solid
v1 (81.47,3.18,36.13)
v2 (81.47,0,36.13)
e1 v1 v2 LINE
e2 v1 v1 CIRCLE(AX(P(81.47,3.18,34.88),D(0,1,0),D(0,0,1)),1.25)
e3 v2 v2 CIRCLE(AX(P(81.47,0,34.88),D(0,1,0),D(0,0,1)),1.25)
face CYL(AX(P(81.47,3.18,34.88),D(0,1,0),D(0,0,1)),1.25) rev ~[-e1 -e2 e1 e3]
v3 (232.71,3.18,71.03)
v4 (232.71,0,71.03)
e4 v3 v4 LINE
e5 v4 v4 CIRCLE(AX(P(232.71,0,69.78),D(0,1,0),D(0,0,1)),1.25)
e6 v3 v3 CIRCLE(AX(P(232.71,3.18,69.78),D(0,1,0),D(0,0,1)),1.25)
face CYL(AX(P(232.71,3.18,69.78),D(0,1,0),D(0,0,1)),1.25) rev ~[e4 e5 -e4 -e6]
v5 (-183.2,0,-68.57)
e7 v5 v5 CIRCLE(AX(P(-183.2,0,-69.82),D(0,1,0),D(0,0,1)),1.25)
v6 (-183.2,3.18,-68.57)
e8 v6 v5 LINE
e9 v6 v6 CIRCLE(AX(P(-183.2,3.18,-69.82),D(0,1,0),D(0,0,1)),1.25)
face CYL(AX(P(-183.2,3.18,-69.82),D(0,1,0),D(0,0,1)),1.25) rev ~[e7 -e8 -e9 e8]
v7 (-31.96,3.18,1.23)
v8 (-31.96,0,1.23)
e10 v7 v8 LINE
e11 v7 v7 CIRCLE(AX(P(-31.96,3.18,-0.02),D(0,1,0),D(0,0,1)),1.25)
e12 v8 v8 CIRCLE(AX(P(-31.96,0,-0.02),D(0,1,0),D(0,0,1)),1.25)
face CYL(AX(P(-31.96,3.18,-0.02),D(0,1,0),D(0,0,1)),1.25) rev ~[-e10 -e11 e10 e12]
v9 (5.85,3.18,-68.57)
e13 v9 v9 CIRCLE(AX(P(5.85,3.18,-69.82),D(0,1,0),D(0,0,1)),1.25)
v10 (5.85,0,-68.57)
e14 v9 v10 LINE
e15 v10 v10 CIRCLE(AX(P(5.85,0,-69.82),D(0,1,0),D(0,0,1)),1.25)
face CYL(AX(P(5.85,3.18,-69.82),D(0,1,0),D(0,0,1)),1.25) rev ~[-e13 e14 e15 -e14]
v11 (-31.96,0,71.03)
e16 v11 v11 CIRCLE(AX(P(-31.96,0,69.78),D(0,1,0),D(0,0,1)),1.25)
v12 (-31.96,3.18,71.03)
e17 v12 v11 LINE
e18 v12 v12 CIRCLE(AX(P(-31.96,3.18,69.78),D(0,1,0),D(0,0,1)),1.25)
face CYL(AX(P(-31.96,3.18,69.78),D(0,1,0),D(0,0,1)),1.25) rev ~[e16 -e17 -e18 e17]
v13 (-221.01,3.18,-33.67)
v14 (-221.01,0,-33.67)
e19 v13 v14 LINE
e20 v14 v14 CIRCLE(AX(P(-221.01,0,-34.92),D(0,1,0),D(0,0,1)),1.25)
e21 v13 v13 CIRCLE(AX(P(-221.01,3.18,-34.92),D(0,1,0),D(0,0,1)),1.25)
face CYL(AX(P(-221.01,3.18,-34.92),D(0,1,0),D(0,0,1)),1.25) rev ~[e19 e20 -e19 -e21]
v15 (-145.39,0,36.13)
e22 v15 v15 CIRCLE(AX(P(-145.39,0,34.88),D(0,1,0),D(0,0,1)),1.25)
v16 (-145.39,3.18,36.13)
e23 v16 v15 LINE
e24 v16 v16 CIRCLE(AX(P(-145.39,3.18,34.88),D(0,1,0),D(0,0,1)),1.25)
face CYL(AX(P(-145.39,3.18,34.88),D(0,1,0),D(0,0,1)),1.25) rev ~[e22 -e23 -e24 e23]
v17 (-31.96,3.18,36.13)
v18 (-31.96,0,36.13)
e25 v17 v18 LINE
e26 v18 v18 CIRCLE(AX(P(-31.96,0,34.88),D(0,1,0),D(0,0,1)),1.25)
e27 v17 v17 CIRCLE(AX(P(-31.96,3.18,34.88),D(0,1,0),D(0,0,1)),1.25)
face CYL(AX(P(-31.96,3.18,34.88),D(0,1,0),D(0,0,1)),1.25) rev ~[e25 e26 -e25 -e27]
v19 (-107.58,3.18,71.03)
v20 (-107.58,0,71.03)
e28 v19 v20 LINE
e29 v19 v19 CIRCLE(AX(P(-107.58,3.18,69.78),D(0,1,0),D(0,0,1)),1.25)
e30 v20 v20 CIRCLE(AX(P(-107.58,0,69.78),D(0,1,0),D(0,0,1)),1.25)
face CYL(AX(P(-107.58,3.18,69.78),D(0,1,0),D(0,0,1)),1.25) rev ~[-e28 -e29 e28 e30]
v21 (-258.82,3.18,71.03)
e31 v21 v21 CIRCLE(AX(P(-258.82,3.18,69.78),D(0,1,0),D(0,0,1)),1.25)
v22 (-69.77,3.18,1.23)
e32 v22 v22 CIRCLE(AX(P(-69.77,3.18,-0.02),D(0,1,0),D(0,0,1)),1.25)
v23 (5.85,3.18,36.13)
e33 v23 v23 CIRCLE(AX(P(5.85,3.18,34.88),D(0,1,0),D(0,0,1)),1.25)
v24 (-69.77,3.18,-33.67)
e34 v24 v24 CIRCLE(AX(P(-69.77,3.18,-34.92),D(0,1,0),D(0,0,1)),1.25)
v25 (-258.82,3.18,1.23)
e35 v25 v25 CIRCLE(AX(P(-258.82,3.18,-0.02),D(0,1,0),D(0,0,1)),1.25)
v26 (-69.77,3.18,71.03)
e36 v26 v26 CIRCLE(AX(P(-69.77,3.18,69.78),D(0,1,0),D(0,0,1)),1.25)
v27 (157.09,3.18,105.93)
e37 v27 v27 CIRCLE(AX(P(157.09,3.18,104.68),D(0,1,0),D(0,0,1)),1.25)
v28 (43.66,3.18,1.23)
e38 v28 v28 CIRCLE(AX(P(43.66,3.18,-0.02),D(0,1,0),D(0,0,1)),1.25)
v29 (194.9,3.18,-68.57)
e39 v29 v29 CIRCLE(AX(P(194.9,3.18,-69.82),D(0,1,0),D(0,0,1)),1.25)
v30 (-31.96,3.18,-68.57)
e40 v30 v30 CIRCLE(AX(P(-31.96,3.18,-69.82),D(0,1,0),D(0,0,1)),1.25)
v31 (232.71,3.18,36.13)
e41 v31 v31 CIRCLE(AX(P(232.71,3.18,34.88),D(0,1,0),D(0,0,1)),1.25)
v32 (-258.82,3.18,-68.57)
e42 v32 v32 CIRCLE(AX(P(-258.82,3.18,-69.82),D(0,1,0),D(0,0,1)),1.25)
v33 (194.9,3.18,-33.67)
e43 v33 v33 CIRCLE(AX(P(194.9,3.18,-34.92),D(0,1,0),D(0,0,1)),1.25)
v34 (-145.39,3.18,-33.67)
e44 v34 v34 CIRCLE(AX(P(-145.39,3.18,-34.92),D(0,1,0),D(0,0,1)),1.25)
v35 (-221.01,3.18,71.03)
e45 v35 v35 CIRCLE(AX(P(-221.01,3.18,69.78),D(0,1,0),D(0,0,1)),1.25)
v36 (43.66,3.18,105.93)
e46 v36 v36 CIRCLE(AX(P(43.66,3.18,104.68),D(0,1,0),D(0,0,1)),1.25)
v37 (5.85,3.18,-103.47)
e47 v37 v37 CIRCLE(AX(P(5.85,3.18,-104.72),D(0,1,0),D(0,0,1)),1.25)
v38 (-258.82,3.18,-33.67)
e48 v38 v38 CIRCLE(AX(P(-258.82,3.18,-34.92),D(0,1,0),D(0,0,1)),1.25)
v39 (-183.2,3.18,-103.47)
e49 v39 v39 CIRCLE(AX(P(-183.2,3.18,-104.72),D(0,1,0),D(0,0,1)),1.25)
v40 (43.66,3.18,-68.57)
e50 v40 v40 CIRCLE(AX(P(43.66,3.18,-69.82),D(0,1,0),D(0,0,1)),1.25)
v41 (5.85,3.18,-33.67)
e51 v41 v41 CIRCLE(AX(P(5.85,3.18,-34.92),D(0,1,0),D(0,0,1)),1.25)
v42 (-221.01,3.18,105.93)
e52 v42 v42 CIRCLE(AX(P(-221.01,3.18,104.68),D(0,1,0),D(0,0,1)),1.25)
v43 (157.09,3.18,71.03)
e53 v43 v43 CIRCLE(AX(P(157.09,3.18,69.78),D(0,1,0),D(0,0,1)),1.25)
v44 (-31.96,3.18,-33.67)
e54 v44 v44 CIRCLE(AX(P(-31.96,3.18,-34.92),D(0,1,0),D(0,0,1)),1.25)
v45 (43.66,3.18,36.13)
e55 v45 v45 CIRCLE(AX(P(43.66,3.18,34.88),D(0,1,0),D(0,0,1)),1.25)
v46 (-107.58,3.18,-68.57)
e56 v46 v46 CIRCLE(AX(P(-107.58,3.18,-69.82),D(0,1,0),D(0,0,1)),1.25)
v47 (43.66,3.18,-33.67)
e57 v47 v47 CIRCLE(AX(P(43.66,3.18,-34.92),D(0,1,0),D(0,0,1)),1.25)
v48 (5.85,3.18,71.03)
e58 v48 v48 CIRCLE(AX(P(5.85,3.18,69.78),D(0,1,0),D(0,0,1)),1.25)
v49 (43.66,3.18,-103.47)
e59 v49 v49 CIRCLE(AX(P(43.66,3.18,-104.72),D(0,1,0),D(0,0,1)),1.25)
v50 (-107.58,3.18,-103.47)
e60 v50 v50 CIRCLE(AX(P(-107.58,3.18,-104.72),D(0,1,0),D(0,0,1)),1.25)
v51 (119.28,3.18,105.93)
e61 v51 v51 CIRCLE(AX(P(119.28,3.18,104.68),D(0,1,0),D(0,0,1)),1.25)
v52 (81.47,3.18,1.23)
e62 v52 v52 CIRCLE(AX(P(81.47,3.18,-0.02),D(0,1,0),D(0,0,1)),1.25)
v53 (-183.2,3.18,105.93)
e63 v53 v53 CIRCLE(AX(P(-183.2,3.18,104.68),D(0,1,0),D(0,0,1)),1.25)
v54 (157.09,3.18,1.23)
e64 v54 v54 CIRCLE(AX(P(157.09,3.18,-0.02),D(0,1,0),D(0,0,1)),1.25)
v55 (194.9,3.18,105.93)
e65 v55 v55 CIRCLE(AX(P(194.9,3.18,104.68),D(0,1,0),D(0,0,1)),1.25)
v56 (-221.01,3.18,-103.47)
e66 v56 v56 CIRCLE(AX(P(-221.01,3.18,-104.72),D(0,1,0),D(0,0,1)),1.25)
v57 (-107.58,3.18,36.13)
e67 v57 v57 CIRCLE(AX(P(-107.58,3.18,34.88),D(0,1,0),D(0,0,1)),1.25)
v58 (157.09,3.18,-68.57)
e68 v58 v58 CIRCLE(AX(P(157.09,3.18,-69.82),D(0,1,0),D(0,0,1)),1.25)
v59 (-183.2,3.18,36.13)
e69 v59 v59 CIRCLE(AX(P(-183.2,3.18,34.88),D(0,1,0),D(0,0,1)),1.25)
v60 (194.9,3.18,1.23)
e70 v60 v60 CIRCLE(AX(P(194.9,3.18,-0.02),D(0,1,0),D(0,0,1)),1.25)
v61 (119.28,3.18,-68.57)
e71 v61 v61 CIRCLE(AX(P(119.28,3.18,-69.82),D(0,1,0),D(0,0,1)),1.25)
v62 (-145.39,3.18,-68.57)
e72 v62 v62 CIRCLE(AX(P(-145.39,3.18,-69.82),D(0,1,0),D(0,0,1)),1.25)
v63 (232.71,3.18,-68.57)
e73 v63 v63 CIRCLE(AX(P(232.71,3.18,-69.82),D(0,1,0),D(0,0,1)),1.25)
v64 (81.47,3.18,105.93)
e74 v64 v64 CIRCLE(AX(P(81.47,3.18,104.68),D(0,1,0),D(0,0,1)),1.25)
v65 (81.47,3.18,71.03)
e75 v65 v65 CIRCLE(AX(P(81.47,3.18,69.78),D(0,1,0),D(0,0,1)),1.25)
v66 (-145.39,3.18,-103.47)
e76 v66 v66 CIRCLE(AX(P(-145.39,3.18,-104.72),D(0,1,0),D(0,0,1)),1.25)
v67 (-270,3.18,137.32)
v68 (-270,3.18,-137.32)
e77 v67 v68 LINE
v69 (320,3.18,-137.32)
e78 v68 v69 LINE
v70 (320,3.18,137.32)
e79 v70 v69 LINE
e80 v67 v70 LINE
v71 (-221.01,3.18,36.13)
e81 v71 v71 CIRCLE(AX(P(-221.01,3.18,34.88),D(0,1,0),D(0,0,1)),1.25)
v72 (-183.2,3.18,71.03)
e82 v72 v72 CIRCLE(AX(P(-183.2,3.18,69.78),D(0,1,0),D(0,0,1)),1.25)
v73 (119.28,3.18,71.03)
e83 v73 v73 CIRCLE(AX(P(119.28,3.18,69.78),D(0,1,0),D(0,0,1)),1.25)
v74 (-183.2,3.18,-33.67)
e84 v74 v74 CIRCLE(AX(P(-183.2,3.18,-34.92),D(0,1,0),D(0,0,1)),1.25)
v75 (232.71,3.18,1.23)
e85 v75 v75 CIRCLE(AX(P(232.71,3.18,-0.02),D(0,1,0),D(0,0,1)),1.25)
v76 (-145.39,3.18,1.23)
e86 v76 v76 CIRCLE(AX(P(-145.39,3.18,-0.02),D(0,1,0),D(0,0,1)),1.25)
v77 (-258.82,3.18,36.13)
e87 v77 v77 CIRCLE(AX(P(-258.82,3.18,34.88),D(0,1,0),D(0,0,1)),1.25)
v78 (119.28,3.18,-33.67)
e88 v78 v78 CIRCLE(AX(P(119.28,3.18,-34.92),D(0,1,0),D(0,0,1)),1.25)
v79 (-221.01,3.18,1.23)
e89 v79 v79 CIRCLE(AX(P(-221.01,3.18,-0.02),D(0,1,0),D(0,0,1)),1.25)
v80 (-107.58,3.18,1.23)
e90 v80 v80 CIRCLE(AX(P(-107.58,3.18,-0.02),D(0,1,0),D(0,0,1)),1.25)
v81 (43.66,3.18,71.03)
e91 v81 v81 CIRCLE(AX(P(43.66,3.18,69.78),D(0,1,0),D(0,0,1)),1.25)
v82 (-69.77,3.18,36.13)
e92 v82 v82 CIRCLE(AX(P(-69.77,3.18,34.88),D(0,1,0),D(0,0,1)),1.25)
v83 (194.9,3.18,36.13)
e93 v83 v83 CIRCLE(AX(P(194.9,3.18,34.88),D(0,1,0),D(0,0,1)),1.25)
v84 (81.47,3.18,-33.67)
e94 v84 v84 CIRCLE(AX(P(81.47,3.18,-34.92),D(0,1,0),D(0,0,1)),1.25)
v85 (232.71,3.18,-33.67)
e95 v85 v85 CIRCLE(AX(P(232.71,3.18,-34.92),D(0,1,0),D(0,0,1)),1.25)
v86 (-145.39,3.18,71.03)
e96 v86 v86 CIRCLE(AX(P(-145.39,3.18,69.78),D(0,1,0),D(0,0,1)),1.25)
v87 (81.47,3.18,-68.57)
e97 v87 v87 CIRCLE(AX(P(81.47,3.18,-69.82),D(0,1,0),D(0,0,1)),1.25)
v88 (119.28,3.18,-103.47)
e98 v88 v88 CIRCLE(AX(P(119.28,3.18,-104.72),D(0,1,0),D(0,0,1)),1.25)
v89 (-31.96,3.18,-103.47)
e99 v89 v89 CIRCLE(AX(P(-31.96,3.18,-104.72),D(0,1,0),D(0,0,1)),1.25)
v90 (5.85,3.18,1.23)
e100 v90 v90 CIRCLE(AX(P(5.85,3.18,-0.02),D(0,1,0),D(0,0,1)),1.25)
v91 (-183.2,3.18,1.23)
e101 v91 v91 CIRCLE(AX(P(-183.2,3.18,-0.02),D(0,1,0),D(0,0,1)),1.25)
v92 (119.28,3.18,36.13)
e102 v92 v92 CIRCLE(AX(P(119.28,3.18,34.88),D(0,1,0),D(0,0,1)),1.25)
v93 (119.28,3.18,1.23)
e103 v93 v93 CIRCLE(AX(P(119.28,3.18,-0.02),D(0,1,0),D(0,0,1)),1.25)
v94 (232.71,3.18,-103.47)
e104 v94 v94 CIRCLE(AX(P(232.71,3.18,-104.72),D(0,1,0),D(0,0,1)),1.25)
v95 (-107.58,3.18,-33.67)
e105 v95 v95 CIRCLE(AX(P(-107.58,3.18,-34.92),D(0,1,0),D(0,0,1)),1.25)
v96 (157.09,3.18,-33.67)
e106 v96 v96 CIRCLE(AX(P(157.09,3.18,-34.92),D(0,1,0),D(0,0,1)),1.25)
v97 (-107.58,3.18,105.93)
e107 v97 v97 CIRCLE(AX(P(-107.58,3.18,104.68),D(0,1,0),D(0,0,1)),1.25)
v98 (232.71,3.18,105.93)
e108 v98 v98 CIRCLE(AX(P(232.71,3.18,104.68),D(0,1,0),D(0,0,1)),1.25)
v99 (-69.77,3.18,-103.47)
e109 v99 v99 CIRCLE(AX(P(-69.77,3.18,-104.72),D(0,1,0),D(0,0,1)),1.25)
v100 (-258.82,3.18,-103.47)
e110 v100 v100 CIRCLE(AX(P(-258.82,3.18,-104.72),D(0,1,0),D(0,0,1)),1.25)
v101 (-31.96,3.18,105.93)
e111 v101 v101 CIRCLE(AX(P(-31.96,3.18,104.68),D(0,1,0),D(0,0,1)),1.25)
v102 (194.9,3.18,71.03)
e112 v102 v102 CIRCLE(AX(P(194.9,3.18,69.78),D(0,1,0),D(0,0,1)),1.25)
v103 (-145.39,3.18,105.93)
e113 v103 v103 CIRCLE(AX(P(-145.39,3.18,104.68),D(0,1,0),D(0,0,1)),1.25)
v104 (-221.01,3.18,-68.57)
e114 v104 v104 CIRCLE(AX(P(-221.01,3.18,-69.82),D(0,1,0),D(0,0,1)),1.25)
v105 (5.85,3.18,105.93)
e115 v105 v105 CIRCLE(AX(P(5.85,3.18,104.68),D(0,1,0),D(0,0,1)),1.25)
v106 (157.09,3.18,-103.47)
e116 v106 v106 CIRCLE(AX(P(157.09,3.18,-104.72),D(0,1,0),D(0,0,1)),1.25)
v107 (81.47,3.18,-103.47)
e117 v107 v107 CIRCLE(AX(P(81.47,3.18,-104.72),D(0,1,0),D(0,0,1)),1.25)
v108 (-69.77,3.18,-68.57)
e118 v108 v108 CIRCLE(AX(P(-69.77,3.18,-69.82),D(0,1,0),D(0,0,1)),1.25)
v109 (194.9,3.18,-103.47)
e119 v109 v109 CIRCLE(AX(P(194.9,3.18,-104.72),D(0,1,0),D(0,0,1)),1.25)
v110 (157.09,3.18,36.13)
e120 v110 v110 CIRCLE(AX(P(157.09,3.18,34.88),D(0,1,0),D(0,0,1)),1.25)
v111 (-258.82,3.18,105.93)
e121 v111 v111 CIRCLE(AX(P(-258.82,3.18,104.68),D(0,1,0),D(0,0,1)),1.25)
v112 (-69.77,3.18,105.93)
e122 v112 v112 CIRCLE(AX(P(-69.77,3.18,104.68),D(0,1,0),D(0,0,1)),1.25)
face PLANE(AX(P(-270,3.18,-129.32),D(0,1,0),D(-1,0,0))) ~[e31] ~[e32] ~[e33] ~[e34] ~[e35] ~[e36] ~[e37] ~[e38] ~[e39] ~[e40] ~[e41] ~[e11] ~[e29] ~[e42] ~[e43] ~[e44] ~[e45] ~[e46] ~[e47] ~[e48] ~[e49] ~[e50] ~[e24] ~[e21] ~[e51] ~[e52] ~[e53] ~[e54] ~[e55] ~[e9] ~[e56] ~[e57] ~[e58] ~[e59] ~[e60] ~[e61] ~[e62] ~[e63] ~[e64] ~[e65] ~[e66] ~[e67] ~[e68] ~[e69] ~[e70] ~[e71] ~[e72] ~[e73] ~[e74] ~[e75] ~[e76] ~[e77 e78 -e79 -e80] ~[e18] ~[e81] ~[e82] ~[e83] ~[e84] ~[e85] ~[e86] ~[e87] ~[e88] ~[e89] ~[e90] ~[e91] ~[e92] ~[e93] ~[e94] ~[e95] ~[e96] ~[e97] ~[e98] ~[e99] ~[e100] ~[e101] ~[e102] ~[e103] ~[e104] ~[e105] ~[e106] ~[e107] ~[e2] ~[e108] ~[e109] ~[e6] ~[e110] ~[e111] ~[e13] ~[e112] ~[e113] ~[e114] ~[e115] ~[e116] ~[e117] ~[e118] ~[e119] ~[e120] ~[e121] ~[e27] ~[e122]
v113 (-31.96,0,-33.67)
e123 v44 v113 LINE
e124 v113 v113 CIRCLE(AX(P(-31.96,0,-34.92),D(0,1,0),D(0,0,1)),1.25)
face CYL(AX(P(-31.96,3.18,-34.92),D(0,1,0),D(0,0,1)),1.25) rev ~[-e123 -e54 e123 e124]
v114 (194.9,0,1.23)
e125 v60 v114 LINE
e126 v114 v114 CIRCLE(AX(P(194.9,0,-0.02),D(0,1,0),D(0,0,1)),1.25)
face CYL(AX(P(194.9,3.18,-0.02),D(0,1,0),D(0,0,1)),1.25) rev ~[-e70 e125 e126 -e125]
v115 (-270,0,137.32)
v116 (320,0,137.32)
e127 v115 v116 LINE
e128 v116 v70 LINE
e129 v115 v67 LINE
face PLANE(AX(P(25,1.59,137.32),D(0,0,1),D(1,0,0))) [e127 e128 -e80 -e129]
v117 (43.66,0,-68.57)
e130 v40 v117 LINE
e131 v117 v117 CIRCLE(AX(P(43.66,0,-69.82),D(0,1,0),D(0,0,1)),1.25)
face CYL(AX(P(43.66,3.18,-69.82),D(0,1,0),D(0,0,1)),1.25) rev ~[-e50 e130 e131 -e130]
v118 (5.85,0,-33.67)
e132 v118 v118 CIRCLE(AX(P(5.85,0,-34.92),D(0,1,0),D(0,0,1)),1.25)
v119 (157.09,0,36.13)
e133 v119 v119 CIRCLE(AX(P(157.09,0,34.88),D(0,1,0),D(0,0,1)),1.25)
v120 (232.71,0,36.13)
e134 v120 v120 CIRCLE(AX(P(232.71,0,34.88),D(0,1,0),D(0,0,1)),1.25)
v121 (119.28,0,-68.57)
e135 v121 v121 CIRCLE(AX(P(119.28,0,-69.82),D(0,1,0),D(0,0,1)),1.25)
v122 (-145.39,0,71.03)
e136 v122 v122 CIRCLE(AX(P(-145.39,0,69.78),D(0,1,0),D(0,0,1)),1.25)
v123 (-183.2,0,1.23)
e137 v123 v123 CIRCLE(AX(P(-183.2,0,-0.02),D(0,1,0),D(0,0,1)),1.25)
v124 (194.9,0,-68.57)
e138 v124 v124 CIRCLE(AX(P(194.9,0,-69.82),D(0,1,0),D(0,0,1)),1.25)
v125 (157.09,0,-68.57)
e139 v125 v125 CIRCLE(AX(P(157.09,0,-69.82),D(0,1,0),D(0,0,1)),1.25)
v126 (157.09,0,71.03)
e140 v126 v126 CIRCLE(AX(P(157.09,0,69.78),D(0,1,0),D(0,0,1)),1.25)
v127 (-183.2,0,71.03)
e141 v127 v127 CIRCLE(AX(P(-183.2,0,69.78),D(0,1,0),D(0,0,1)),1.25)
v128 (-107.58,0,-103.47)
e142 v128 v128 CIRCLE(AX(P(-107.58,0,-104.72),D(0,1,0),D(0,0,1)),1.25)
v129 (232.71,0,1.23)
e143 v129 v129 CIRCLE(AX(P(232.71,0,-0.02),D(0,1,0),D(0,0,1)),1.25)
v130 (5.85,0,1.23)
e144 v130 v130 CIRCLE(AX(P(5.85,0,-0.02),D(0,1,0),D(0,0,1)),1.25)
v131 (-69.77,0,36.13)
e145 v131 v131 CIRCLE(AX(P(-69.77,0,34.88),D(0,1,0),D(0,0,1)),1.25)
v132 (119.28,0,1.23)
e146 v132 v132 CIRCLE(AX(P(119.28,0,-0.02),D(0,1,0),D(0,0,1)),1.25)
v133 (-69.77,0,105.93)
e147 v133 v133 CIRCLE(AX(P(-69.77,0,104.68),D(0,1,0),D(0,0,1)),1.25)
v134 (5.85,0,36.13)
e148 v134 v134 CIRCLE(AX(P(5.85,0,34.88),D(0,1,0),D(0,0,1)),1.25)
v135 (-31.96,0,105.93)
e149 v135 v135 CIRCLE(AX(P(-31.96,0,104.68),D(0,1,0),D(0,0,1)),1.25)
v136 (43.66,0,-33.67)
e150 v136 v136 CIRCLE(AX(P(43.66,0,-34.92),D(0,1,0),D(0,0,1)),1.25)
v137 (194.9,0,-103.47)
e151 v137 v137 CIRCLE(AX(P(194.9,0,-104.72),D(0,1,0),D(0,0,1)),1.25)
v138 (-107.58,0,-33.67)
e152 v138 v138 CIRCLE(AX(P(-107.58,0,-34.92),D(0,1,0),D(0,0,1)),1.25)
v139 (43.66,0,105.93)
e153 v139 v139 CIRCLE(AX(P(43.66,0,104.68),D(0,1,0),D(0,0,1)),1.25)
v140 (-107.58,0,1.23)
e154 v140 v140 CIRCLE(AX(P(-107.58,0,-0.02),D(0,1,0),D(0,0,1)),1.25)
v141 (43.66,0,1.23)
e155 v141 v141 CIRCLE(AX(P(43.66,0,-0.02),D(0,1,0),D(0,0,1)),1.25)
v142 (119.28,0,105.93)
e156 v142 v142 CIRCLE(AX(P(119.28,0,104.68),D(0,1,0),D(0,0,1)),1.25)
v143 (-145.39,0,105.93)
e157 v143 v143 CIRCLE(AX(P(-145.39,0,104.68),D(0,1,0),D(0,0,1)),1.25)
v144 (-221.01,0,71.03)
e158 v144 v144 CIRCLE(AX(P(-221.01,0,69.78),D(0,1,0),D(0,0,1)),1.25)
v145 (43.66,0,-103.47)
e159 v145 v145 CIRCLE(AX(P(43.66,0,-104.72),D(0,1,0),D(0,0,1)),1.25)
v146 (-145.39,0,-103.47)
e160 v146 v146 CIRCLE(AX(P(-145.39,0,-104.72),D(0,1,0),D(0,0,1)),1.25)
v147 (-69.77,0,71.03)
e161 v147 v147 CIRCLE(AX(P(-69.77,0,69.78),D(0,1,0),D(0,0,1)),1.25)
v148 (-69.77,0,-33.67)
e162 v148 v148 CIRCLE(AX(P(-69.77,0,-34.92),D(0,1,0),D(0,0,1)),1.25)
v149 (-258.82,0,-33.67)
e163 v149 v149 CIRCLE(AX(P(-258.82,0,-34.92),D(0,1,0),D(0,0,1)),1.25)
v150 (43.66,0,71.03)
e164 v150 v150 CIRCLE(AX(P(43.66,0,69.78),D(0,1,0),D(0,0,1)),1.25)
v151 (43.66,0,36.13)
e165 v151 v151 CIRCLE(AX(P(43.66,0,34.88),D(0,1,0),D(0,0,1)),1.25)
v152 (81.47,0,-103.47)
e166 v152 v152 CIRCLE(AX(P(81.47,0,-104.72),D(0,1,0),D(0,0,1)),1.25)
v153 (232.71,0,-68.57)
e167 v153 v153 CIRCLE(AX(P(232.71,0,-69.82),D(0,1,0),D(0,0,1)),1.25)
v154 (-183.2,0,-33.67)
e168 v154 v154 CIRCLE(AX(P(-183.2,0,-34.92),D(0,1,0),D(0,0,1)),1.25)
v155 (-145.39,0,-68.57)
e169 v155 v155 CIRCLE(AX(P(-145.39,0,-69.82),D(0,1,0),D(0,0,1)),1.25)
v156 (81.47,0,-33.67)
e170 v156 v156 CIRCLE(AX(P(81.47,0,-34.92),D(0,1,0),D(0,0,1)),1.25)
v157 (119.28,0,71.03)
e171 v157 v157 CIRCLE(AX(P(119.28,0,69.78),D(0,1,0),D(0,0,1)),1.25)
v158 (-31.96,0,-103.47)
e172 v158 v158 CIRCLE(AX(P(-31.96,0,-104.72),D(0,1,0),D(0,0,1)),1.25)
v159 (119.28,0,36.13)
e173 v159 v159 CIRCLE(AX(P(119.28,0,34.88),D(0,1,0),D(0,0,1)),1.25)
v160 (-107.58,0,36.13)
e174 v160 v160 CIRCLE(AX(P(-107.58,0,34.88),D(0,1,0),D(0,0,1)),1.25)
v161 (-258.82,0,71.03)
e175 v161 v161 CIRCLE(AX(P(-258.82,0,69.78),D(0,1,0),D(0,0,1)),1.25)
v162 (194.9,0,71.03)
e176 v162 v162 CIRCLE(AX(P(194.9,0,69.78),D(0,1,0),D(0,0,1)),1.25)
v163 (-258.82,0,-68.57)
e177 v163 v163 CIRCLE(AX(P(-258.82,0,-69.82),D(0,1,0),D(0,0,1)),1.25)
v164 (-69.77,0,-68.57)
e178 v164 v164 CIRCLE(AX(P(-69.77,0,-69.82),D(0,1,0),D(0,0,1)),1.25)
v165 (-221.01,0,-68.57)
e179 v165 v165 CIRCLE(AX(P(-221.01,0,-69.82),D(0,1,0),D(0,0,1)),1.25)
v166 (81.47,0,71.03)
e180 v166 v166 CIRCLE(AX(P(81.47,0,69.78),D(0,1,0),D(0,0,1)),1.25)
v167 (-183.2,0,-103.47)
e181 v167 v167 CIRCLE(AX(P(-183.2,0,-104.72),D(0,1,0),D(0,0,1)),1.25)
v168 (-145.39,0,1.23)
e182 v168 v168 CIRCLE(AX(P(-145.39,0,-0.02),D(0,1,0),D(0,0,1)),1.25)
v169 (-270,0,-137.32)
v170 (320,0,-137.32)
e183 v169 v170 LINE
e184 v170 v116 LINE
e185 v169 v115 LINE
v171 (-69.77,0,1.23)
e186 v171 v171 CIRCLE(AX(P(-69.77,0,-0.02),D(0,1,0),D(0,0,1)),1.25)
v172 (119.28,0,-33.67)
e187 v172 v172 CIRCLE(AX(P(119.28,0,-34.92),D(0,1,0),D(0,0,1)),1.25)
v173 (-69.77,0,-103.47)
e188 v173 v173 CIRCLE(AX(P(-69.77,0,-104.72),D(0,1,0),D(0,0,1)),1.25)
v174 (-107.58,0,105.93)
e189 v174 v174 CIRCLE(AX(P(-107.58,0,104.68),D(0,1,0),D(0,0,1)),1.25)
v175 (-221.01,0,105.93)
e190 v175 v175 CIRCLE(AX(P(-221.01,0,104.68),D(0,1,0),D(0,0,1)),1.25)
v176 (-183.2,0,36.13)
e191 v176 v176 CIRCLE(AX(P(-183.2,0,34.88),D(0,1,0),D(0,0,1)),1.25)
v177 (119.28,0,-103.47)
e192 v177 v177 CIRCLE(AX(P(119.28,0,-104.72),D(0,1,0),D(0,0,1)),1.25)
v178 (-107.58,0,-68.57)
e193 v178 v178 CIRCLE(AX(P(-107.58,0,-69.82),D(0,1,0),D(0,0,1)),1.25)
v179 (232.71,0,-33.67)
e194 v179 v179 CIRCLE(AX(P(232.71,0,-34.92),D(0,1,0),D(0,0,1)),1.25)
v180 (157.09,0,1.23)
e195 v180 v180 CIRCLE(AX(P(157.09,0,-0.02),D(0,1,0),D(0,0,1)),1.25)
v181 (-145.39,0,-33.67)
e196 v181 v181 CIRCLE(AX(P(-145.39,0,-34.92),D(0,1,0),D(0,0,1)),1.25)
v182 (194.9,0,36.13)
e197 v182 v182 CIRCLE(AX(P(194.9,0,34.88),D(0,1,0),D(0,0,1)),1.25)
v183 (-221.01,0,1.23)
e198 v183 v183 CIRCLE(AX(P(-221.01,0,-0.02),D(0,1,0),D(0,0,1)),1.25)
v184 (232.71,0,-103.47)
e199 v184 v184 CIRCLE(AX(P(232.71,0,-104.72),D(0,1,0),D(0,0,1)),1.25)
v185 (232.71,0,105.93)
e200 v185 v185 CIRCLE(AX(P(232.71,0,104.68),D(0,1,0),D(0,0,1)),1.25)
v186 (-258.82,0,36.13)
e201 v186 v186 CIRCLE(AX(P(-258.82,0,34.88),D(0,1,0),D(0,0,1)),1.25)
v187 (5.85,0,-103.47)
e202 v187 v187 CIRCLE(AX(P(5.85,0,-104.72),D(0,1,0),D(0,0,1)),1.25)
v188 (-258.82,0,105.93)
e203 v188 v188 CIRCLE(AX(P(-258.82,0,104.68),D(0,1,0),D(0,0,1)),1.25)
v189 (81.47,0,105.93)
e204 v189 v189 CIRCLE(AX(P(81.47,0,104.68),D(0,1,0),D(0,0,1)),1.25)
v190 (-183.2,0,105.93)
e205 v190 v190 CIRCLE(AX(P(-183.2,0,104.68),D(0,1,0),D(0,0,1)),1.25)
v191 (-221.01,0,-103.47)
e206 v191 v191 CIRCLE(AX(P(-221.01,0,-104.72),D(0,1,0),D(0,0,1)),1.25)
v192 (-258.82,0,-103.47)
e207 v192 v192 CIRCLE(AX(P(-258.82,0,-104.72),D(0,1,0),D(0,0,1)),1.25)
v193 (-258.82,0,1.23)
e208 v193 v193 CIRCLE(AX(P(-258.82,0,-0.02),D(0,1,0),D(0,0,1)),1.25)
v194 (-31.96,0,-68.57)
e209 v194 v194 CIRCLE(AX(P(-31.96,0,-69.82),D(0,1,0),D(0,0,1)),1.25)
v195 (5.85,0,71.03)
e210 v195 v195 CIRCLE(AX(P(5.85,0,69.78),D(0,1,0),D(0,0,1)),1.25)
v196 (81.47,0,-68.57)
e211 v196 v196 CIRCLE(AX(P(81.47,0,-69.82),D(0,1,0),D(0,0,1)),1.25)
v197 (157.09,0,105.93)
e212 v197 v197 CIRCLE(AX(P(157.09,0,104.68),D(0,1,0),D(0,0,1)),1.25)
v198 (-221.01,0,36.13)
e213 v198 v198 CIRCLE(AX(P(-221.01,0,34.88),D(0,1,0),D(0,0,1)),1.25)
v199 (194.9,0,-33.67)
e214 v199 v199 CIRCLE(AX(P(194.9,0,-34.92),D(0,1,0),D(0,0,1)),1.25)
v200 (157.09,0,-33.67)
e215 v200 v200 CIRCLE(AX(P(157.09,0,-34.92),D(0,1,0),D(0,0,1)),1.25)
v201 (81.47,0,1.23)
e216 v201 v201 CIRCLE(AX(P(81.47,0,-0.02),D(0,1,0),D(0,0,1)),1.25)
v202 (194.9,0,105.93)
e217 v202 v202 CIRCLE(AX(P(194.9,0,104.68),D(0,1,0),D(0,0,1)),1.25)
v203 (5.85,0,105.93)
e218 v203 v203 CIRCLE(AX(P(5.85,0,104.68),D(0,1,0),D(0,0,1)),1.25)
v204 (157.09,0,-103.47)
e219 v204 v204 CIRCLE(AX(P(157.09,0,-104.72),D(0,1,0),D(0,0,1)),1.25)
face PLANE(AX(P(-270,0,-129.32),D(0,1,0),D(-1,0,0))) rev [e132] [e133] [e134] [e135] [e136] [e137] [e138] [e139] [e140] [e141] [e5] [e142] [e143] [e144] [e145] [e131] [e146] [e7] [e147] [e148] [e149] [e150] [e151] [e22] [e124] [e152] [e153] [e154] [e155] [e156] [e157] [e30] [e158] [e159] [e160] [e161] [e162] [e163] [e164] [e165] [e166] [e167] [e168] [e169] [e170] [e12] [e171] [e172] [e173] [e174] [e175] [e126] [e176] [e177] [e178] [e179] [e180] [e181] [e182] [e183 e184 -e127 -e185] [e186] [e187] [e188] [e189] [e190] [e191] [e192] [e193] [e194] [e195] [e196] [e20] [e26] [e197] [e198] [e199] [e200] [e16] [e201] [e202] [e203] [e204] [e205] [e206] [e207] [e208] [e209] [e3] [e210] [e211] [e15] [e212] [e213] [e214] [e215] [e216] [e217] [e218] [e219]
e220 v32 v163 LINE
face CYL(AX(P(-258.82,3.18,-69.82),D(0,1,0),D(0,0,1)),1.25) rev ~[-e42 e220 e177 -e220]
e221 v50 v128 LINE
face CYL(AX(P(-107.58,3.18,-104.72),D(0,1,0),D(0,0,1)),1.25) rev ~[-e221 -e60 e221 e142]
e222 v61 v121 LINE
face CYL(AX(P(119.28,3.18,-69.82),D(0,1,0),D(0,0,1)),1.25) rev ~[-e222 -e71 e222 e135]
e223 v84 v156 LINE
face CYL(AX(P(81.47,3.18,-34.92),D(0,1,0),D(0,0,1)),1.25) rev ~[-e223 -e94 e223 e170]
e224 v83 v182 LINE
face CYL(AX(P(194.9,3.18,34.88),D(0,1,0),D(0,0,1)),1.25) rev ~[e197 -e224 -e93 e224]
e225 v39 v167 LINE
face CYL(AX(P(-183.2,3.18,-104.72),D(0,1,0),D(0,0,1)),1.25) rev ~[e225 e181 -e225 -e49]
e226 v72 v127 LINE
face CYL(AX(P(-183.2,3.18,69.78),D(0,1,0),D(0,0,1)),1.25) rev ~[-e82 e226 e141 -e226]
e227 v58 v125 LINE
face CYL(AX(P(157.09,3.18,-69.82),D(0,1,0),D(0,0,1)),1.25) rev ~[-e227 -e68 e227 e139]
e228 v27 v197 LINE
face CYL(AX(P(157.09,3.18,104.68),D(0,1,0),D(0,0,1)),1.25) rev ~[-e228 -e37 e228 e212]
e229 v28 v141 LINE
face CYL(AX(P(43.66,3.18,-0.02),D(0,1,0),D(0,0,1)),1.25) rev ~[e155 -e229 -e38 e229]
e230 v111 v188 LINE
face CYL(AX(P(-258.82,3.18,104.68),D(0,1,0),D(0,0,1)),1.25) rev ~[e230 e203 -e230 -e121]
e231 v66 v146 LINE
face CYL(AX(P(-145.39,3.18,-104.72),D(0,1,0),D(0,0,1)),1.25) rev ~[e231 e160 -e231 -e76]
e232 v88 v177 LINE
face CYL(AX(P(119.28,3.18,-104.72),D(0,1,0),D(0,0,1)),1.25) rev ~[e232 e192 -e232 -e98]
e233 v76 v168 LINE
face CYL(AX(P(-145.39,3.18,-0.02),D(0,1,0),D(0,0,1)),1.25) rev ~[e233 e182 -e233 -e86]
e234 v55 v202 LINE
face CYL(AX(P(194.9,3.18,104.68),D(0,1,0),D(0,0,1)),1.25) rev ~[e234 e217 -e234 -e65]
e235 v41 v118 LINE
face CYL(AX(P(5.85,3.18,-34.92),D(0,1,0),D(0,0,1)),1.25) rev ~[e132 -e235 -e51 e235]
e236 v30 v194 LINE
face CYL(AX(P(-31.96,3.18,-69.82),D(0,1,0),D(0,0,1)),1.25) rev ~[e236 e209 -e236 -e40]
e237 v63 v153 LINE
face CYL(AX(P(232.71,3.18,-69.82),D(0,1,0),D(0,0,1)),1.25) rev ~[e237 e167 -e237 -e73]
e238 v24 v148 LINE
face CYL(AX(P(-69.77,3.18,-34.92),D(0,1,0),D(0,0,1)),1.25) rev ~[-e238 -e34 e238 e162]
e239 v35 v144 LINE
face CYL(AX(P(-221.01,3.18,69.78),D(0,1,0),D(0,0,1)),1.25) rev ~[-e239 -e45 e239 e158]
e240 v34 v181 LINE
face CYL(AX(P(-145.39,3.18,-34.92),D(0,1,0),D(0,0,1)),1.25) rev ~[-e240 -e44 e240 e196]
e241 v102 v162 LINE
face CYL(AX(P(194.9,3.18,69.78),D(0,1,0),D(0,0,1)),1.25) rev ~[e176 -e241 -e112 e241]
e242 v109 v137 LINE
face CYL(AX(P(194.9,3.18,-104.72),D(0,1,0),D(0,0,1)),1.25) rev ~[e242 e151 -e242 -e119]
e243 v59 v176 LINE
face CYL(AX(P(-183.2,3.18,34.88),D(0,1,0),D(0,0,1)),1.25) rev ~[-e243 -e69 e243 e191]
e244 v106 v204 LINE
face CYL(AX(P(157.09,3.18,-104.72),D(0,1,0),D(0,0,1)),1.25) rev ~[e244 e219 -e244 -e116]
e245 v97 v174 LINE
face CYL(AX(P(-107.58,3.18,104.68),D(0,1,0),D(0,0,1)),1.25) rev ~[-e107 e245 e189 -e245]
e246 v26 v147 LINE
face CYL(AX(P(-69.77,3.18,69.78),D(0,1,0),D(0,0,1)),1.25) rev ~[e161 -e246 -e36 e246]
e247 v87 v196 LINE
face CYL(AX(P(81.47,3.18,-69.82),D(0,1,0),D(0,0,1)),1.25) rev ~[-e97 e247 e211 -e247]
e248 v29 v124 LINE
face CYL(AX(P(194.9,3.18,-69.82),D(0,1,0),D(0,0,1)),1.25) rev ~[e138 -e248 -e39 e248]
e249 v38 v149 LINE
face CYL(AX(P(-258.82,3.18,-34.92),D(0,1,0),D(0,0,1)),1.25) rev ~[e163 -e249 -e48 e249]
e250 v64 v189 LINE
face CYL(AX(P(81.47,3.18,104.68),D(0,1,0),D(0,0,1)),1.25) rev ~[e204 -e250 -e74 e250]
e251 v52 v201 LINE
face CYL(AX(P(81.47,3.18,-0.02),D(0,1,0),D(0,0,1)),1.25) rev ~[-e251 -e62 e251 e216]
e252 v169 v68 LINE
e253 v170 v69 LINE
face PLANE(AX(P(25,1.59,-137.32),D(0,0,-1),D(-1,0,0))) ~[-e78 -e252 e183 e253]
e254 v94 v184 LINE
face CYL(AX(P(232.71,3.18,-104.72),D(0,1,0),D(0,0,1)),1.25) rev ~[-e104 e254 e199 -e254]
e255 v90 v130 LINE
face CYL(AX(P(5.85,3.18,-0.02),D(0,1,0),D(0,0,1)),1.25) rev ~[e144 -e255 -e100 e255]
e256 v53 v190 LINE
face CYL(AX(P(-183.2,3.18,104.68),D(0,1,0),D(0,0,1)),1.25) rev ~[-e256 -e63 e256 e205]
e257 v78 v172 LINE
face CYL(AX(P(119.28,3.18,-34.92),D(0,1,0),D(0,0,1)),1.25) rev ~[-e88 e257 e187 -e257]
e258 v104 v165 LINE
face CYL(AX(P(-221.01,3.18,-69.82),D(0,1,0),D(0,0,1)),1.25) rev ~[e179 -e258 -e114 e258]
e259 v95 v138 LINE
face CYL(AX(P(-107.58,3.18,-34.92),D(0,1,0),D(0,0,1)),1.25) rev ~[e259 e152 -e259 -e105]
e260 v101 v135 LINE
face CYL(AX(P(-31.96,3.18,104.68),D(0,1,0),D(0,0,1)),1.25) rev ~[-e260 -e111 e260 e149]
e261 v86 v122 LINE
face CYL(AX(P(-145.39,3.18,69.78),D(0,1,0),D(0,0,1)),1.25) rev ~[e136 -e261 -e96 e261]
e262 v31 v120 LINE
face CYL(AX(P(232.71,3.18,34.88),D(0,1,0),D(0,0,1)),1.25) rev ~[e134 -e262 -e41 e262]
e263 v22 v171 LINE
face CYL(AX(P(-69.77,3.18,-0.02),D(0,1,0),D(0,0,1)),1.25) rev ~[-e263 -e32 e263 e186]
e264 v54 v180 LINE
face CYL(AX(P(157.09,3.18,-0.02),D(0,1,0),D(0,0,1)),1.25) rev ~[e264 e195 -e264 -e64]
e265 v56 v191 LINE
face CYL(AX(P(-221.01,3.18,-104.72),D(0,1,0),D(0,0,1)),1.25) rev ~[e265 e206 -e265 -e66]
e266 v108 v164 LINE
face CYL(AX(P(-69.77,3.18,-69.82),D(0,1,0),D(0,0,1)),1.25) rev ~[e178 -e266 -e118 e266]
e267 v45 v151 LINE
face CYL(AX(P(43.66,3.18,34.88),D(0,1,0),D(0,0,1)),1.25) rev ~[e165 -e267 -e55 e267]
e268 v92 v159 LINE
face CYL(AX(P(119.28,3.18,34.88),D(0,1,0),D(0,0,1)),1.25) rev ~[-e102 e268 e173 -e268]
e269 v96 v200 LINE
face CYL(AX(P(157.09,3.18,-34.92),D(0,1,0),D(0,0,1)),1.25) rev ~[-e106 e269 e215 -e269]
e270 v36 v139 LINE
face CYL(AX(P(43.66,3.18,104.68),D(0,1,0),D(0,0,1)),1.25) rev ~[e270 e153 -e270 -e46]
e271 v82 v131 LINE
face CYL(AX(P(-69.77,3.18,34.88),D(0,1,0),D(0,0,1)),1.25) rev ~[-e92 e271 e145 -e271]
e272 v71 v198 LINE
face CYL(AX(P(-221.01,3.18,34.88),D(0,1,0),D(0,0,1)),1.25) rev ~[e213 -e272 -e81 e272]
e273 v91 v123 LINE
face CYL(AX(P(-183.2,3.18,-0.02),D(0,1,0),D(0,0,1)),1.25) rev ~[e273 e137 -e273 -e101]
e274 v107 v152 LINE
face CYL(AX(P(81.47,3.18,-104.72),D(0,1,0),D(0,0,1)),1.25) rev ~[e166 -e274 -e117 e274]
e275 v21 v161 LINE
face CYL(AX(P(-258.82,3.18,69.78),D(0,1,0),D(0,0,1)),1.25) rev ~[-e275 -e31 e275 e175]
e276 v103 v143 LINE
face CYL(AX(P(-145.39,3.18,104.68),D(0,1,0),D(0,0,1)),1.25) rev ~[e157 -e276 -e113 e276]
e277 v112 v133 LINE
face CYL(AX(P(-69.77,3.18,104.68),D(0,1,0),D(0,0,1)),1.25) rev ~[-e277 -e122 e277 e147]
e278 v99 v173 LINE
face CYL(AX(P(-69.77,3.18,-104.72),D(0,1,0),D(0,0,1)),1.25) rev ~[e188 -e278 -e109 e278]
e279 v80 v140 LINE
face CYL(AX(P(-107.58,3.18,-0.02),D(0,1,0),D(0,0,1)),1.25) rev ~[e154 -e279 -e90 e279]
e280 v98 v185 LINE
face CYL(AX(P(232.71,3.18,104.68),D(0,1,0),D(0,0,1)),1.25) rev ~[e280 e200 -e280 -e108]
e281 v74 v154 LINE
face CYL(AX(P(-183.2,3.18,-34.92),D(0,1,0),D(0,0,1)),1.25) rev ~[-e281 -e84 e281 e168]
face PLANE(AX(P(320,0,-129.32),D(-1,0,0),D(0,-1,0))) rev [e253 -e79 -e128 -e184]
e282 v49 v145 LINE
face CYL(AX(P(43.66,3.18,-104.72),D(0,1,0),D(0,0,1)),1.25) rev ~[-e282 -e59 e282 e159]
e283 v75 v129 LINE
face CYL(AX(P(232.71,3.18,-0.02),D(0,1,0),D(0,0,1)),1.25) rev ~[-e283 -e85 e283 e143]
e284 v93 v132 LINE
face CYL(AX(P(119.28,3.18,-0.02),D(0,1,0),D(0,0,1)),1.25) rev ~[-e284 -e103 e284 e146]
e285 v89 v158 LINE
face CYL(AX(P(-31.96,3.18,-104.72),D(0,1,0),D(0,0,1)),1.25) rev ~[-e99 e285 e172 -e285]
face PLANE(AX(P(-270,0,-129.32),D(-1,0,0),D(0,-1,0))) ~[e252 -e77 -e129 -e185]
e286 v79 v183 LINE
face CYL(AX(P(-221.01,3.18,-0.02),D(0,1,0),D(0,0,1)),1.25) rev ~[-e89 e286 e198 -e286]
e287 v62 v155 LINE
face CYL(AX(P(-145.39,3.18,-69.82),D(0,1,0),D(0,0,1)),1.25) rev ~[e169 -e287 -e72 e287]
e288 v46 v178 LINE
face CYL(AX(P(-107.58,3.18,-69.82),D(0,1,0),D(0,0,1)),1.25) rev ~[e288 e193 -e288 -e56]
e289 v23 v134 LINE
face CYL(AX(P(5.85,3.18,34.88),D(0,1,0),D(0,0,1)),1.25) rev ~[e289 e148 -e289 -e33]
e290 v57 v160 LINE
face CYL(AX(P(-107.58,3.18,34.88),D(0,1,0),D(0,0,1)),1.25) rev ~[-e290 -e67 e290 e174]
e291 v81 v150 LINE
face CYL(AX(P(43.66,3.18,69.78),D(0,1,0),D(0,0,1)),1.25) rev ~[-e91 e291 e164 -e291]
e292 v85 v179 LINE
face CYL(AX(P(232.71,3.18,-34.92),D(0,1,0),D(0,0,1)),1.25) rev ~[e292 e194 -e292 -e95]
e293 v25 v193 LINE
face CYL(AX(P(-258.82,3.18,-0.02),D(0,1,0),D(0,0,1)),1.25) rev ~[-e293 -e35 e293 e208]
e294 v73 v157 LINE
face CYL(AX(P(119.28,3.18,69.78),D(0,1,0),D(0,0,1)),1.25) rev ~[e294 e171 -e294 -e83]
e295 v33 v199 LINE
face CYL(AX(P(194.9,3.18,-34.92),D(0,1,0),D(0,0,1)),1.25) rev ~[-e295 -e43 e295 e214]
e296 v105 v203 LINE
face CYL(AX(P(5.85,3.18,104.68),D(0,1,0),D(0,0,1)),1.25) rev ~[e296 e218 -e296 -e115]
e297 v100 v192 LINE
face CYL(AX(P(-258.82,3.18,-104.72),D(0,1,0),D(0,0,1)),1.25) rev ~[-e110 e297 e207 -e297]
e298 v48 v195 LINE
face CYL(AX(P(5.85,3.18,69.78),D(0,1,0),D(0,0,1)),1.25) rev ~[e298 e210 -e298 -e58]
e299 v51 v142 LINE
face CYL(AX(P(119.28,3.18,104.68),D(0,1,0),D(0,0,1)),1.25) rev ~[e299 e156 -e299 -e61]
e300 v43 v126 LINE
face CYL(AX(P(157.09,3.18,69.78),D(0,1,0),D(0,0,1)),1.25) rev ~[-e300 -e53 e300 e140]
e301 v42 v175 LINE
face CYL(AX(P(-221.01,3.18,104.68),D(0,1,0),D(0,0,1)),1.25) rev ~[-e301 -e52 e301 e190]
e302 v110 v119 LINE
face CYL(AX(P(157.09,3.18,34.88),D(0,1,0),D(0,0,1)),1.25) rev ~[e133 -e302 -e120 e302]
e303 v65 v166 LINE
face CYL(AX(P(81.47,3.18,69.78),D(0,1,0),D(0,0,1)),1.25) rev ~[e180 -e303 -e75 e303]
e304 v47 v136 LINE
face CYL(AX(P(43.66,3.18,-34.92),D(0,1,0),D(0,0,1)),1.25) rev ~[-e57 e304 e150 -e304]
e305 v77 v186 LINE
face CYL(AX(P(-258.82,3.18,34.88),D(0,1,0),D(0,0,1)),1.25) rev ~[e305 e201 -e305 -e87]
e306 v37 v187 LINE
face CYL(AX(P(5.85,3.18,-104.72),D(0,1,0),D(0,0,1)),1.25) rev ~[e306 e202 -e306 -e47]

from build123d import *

# Parameters (mm, degrees)
SKETCH1_W            = 540
SKETCH1_H            = 258.64
BOSS_EXTRUDE1_DEPTH  = 3.18
CUT_EXTRUDE1_REACH   = 301.389
SKETCH2_R            = 1.25
LPATTERN1_COUNT      = 14
LPATTERN1_PITCH      = 37.81
LPATTERN1_COUNT_DIR2 = 7
LPATTERN1_PITCH_DIR2 = 34.9
SKETCH3_W            = 258.64
SKETCH3_H            = 3.18
BOSS_EXTRUDE2_DEPTH  = 50
SKETCH4_W            = 590
SKETCH4_H            = 3.18
BOSS_EXTRUDE3_DEPTH  = 8


with BuildPart() as part:
    # Sketch1 → Boss-Extrude1 (new body)
    with BuildSketch(Plane(origin=(0, 0, 0), x_dir=(1, 0, 0), z_dir=(0, 1, 0))):
        Rectangle(SKETCH1_W, SKETCH1_H)
    extrude(amount=BOSS_EXTRUDE1_DEPTH)

    # Sketch2 → Cut-Extrude1 (cut, up to next)
    with BuildSketch(Plane(origin=(0, 3.18, 0), x_dir=(1, 0, 0), z_dir=(0, 1, 0)), mode=Mode.PRIVATE) as cut_extrude1_sk1:
        with Locations(Location((-258.82, 104.72, 0), (0, 0, 270))):
            Circle(SKETCH2_R)
    cut_extrude1_tool1 = extrude(cut_extrude1_sk1.sketch, amount=-CUT_EXTRUDE1_REACH, mode=Mode.PRIVATE) & part.part
    cut_extrude1 = cut_extrude1_tool1.solids().sort_by_distance((-258.82, 3.18, -104.72))[0]
    add(cut_extrude1, mode=Mode.SUBTRACT)

    # LPattern1: Cut-Extrude1 14 × 7
    with Locations(*[(i * LPATTERN1_PITCH, 0, j * LPATTERN1_PITCH_DIR2) for i in range(LPATTERN1_COUNT) for j in range(LPATTERN1_COUNT_DIR2) if (i, j) != (0, 0)]):
        add(cut_extrude1, mode=Mode.SUBTRACT)

    # Sketch3 → Boss-Extrude2 (add)
    with BuildSketch(Plane(origin=(270, 0, 0), x_dir=(0, 0, -1), z_dir=(1, 0, 0))):
        with Locations((0, 1.59)):
            Rectangle(SKETCH3_W, SKETCH3_H)
    extrude(amount=BOSS_EXTRUDE2_DEPTH)

    # Sketch4 → Boss-Extrude3 (add)
    with BuildSketch(Plane.XY.offset(129.32)):
        with Locations((25, 1.59)):
            Rectangle(SKETCH4_W, SKETCH4_H)
    boss_extrude3 = extrude(amount=BOSS_EXTRUDE3_DEPTH)

    # Mirror1: Boss-Extrude3 across plane
    add(boss_extrude3.mirror(Plane.XY))


solid = part.part
